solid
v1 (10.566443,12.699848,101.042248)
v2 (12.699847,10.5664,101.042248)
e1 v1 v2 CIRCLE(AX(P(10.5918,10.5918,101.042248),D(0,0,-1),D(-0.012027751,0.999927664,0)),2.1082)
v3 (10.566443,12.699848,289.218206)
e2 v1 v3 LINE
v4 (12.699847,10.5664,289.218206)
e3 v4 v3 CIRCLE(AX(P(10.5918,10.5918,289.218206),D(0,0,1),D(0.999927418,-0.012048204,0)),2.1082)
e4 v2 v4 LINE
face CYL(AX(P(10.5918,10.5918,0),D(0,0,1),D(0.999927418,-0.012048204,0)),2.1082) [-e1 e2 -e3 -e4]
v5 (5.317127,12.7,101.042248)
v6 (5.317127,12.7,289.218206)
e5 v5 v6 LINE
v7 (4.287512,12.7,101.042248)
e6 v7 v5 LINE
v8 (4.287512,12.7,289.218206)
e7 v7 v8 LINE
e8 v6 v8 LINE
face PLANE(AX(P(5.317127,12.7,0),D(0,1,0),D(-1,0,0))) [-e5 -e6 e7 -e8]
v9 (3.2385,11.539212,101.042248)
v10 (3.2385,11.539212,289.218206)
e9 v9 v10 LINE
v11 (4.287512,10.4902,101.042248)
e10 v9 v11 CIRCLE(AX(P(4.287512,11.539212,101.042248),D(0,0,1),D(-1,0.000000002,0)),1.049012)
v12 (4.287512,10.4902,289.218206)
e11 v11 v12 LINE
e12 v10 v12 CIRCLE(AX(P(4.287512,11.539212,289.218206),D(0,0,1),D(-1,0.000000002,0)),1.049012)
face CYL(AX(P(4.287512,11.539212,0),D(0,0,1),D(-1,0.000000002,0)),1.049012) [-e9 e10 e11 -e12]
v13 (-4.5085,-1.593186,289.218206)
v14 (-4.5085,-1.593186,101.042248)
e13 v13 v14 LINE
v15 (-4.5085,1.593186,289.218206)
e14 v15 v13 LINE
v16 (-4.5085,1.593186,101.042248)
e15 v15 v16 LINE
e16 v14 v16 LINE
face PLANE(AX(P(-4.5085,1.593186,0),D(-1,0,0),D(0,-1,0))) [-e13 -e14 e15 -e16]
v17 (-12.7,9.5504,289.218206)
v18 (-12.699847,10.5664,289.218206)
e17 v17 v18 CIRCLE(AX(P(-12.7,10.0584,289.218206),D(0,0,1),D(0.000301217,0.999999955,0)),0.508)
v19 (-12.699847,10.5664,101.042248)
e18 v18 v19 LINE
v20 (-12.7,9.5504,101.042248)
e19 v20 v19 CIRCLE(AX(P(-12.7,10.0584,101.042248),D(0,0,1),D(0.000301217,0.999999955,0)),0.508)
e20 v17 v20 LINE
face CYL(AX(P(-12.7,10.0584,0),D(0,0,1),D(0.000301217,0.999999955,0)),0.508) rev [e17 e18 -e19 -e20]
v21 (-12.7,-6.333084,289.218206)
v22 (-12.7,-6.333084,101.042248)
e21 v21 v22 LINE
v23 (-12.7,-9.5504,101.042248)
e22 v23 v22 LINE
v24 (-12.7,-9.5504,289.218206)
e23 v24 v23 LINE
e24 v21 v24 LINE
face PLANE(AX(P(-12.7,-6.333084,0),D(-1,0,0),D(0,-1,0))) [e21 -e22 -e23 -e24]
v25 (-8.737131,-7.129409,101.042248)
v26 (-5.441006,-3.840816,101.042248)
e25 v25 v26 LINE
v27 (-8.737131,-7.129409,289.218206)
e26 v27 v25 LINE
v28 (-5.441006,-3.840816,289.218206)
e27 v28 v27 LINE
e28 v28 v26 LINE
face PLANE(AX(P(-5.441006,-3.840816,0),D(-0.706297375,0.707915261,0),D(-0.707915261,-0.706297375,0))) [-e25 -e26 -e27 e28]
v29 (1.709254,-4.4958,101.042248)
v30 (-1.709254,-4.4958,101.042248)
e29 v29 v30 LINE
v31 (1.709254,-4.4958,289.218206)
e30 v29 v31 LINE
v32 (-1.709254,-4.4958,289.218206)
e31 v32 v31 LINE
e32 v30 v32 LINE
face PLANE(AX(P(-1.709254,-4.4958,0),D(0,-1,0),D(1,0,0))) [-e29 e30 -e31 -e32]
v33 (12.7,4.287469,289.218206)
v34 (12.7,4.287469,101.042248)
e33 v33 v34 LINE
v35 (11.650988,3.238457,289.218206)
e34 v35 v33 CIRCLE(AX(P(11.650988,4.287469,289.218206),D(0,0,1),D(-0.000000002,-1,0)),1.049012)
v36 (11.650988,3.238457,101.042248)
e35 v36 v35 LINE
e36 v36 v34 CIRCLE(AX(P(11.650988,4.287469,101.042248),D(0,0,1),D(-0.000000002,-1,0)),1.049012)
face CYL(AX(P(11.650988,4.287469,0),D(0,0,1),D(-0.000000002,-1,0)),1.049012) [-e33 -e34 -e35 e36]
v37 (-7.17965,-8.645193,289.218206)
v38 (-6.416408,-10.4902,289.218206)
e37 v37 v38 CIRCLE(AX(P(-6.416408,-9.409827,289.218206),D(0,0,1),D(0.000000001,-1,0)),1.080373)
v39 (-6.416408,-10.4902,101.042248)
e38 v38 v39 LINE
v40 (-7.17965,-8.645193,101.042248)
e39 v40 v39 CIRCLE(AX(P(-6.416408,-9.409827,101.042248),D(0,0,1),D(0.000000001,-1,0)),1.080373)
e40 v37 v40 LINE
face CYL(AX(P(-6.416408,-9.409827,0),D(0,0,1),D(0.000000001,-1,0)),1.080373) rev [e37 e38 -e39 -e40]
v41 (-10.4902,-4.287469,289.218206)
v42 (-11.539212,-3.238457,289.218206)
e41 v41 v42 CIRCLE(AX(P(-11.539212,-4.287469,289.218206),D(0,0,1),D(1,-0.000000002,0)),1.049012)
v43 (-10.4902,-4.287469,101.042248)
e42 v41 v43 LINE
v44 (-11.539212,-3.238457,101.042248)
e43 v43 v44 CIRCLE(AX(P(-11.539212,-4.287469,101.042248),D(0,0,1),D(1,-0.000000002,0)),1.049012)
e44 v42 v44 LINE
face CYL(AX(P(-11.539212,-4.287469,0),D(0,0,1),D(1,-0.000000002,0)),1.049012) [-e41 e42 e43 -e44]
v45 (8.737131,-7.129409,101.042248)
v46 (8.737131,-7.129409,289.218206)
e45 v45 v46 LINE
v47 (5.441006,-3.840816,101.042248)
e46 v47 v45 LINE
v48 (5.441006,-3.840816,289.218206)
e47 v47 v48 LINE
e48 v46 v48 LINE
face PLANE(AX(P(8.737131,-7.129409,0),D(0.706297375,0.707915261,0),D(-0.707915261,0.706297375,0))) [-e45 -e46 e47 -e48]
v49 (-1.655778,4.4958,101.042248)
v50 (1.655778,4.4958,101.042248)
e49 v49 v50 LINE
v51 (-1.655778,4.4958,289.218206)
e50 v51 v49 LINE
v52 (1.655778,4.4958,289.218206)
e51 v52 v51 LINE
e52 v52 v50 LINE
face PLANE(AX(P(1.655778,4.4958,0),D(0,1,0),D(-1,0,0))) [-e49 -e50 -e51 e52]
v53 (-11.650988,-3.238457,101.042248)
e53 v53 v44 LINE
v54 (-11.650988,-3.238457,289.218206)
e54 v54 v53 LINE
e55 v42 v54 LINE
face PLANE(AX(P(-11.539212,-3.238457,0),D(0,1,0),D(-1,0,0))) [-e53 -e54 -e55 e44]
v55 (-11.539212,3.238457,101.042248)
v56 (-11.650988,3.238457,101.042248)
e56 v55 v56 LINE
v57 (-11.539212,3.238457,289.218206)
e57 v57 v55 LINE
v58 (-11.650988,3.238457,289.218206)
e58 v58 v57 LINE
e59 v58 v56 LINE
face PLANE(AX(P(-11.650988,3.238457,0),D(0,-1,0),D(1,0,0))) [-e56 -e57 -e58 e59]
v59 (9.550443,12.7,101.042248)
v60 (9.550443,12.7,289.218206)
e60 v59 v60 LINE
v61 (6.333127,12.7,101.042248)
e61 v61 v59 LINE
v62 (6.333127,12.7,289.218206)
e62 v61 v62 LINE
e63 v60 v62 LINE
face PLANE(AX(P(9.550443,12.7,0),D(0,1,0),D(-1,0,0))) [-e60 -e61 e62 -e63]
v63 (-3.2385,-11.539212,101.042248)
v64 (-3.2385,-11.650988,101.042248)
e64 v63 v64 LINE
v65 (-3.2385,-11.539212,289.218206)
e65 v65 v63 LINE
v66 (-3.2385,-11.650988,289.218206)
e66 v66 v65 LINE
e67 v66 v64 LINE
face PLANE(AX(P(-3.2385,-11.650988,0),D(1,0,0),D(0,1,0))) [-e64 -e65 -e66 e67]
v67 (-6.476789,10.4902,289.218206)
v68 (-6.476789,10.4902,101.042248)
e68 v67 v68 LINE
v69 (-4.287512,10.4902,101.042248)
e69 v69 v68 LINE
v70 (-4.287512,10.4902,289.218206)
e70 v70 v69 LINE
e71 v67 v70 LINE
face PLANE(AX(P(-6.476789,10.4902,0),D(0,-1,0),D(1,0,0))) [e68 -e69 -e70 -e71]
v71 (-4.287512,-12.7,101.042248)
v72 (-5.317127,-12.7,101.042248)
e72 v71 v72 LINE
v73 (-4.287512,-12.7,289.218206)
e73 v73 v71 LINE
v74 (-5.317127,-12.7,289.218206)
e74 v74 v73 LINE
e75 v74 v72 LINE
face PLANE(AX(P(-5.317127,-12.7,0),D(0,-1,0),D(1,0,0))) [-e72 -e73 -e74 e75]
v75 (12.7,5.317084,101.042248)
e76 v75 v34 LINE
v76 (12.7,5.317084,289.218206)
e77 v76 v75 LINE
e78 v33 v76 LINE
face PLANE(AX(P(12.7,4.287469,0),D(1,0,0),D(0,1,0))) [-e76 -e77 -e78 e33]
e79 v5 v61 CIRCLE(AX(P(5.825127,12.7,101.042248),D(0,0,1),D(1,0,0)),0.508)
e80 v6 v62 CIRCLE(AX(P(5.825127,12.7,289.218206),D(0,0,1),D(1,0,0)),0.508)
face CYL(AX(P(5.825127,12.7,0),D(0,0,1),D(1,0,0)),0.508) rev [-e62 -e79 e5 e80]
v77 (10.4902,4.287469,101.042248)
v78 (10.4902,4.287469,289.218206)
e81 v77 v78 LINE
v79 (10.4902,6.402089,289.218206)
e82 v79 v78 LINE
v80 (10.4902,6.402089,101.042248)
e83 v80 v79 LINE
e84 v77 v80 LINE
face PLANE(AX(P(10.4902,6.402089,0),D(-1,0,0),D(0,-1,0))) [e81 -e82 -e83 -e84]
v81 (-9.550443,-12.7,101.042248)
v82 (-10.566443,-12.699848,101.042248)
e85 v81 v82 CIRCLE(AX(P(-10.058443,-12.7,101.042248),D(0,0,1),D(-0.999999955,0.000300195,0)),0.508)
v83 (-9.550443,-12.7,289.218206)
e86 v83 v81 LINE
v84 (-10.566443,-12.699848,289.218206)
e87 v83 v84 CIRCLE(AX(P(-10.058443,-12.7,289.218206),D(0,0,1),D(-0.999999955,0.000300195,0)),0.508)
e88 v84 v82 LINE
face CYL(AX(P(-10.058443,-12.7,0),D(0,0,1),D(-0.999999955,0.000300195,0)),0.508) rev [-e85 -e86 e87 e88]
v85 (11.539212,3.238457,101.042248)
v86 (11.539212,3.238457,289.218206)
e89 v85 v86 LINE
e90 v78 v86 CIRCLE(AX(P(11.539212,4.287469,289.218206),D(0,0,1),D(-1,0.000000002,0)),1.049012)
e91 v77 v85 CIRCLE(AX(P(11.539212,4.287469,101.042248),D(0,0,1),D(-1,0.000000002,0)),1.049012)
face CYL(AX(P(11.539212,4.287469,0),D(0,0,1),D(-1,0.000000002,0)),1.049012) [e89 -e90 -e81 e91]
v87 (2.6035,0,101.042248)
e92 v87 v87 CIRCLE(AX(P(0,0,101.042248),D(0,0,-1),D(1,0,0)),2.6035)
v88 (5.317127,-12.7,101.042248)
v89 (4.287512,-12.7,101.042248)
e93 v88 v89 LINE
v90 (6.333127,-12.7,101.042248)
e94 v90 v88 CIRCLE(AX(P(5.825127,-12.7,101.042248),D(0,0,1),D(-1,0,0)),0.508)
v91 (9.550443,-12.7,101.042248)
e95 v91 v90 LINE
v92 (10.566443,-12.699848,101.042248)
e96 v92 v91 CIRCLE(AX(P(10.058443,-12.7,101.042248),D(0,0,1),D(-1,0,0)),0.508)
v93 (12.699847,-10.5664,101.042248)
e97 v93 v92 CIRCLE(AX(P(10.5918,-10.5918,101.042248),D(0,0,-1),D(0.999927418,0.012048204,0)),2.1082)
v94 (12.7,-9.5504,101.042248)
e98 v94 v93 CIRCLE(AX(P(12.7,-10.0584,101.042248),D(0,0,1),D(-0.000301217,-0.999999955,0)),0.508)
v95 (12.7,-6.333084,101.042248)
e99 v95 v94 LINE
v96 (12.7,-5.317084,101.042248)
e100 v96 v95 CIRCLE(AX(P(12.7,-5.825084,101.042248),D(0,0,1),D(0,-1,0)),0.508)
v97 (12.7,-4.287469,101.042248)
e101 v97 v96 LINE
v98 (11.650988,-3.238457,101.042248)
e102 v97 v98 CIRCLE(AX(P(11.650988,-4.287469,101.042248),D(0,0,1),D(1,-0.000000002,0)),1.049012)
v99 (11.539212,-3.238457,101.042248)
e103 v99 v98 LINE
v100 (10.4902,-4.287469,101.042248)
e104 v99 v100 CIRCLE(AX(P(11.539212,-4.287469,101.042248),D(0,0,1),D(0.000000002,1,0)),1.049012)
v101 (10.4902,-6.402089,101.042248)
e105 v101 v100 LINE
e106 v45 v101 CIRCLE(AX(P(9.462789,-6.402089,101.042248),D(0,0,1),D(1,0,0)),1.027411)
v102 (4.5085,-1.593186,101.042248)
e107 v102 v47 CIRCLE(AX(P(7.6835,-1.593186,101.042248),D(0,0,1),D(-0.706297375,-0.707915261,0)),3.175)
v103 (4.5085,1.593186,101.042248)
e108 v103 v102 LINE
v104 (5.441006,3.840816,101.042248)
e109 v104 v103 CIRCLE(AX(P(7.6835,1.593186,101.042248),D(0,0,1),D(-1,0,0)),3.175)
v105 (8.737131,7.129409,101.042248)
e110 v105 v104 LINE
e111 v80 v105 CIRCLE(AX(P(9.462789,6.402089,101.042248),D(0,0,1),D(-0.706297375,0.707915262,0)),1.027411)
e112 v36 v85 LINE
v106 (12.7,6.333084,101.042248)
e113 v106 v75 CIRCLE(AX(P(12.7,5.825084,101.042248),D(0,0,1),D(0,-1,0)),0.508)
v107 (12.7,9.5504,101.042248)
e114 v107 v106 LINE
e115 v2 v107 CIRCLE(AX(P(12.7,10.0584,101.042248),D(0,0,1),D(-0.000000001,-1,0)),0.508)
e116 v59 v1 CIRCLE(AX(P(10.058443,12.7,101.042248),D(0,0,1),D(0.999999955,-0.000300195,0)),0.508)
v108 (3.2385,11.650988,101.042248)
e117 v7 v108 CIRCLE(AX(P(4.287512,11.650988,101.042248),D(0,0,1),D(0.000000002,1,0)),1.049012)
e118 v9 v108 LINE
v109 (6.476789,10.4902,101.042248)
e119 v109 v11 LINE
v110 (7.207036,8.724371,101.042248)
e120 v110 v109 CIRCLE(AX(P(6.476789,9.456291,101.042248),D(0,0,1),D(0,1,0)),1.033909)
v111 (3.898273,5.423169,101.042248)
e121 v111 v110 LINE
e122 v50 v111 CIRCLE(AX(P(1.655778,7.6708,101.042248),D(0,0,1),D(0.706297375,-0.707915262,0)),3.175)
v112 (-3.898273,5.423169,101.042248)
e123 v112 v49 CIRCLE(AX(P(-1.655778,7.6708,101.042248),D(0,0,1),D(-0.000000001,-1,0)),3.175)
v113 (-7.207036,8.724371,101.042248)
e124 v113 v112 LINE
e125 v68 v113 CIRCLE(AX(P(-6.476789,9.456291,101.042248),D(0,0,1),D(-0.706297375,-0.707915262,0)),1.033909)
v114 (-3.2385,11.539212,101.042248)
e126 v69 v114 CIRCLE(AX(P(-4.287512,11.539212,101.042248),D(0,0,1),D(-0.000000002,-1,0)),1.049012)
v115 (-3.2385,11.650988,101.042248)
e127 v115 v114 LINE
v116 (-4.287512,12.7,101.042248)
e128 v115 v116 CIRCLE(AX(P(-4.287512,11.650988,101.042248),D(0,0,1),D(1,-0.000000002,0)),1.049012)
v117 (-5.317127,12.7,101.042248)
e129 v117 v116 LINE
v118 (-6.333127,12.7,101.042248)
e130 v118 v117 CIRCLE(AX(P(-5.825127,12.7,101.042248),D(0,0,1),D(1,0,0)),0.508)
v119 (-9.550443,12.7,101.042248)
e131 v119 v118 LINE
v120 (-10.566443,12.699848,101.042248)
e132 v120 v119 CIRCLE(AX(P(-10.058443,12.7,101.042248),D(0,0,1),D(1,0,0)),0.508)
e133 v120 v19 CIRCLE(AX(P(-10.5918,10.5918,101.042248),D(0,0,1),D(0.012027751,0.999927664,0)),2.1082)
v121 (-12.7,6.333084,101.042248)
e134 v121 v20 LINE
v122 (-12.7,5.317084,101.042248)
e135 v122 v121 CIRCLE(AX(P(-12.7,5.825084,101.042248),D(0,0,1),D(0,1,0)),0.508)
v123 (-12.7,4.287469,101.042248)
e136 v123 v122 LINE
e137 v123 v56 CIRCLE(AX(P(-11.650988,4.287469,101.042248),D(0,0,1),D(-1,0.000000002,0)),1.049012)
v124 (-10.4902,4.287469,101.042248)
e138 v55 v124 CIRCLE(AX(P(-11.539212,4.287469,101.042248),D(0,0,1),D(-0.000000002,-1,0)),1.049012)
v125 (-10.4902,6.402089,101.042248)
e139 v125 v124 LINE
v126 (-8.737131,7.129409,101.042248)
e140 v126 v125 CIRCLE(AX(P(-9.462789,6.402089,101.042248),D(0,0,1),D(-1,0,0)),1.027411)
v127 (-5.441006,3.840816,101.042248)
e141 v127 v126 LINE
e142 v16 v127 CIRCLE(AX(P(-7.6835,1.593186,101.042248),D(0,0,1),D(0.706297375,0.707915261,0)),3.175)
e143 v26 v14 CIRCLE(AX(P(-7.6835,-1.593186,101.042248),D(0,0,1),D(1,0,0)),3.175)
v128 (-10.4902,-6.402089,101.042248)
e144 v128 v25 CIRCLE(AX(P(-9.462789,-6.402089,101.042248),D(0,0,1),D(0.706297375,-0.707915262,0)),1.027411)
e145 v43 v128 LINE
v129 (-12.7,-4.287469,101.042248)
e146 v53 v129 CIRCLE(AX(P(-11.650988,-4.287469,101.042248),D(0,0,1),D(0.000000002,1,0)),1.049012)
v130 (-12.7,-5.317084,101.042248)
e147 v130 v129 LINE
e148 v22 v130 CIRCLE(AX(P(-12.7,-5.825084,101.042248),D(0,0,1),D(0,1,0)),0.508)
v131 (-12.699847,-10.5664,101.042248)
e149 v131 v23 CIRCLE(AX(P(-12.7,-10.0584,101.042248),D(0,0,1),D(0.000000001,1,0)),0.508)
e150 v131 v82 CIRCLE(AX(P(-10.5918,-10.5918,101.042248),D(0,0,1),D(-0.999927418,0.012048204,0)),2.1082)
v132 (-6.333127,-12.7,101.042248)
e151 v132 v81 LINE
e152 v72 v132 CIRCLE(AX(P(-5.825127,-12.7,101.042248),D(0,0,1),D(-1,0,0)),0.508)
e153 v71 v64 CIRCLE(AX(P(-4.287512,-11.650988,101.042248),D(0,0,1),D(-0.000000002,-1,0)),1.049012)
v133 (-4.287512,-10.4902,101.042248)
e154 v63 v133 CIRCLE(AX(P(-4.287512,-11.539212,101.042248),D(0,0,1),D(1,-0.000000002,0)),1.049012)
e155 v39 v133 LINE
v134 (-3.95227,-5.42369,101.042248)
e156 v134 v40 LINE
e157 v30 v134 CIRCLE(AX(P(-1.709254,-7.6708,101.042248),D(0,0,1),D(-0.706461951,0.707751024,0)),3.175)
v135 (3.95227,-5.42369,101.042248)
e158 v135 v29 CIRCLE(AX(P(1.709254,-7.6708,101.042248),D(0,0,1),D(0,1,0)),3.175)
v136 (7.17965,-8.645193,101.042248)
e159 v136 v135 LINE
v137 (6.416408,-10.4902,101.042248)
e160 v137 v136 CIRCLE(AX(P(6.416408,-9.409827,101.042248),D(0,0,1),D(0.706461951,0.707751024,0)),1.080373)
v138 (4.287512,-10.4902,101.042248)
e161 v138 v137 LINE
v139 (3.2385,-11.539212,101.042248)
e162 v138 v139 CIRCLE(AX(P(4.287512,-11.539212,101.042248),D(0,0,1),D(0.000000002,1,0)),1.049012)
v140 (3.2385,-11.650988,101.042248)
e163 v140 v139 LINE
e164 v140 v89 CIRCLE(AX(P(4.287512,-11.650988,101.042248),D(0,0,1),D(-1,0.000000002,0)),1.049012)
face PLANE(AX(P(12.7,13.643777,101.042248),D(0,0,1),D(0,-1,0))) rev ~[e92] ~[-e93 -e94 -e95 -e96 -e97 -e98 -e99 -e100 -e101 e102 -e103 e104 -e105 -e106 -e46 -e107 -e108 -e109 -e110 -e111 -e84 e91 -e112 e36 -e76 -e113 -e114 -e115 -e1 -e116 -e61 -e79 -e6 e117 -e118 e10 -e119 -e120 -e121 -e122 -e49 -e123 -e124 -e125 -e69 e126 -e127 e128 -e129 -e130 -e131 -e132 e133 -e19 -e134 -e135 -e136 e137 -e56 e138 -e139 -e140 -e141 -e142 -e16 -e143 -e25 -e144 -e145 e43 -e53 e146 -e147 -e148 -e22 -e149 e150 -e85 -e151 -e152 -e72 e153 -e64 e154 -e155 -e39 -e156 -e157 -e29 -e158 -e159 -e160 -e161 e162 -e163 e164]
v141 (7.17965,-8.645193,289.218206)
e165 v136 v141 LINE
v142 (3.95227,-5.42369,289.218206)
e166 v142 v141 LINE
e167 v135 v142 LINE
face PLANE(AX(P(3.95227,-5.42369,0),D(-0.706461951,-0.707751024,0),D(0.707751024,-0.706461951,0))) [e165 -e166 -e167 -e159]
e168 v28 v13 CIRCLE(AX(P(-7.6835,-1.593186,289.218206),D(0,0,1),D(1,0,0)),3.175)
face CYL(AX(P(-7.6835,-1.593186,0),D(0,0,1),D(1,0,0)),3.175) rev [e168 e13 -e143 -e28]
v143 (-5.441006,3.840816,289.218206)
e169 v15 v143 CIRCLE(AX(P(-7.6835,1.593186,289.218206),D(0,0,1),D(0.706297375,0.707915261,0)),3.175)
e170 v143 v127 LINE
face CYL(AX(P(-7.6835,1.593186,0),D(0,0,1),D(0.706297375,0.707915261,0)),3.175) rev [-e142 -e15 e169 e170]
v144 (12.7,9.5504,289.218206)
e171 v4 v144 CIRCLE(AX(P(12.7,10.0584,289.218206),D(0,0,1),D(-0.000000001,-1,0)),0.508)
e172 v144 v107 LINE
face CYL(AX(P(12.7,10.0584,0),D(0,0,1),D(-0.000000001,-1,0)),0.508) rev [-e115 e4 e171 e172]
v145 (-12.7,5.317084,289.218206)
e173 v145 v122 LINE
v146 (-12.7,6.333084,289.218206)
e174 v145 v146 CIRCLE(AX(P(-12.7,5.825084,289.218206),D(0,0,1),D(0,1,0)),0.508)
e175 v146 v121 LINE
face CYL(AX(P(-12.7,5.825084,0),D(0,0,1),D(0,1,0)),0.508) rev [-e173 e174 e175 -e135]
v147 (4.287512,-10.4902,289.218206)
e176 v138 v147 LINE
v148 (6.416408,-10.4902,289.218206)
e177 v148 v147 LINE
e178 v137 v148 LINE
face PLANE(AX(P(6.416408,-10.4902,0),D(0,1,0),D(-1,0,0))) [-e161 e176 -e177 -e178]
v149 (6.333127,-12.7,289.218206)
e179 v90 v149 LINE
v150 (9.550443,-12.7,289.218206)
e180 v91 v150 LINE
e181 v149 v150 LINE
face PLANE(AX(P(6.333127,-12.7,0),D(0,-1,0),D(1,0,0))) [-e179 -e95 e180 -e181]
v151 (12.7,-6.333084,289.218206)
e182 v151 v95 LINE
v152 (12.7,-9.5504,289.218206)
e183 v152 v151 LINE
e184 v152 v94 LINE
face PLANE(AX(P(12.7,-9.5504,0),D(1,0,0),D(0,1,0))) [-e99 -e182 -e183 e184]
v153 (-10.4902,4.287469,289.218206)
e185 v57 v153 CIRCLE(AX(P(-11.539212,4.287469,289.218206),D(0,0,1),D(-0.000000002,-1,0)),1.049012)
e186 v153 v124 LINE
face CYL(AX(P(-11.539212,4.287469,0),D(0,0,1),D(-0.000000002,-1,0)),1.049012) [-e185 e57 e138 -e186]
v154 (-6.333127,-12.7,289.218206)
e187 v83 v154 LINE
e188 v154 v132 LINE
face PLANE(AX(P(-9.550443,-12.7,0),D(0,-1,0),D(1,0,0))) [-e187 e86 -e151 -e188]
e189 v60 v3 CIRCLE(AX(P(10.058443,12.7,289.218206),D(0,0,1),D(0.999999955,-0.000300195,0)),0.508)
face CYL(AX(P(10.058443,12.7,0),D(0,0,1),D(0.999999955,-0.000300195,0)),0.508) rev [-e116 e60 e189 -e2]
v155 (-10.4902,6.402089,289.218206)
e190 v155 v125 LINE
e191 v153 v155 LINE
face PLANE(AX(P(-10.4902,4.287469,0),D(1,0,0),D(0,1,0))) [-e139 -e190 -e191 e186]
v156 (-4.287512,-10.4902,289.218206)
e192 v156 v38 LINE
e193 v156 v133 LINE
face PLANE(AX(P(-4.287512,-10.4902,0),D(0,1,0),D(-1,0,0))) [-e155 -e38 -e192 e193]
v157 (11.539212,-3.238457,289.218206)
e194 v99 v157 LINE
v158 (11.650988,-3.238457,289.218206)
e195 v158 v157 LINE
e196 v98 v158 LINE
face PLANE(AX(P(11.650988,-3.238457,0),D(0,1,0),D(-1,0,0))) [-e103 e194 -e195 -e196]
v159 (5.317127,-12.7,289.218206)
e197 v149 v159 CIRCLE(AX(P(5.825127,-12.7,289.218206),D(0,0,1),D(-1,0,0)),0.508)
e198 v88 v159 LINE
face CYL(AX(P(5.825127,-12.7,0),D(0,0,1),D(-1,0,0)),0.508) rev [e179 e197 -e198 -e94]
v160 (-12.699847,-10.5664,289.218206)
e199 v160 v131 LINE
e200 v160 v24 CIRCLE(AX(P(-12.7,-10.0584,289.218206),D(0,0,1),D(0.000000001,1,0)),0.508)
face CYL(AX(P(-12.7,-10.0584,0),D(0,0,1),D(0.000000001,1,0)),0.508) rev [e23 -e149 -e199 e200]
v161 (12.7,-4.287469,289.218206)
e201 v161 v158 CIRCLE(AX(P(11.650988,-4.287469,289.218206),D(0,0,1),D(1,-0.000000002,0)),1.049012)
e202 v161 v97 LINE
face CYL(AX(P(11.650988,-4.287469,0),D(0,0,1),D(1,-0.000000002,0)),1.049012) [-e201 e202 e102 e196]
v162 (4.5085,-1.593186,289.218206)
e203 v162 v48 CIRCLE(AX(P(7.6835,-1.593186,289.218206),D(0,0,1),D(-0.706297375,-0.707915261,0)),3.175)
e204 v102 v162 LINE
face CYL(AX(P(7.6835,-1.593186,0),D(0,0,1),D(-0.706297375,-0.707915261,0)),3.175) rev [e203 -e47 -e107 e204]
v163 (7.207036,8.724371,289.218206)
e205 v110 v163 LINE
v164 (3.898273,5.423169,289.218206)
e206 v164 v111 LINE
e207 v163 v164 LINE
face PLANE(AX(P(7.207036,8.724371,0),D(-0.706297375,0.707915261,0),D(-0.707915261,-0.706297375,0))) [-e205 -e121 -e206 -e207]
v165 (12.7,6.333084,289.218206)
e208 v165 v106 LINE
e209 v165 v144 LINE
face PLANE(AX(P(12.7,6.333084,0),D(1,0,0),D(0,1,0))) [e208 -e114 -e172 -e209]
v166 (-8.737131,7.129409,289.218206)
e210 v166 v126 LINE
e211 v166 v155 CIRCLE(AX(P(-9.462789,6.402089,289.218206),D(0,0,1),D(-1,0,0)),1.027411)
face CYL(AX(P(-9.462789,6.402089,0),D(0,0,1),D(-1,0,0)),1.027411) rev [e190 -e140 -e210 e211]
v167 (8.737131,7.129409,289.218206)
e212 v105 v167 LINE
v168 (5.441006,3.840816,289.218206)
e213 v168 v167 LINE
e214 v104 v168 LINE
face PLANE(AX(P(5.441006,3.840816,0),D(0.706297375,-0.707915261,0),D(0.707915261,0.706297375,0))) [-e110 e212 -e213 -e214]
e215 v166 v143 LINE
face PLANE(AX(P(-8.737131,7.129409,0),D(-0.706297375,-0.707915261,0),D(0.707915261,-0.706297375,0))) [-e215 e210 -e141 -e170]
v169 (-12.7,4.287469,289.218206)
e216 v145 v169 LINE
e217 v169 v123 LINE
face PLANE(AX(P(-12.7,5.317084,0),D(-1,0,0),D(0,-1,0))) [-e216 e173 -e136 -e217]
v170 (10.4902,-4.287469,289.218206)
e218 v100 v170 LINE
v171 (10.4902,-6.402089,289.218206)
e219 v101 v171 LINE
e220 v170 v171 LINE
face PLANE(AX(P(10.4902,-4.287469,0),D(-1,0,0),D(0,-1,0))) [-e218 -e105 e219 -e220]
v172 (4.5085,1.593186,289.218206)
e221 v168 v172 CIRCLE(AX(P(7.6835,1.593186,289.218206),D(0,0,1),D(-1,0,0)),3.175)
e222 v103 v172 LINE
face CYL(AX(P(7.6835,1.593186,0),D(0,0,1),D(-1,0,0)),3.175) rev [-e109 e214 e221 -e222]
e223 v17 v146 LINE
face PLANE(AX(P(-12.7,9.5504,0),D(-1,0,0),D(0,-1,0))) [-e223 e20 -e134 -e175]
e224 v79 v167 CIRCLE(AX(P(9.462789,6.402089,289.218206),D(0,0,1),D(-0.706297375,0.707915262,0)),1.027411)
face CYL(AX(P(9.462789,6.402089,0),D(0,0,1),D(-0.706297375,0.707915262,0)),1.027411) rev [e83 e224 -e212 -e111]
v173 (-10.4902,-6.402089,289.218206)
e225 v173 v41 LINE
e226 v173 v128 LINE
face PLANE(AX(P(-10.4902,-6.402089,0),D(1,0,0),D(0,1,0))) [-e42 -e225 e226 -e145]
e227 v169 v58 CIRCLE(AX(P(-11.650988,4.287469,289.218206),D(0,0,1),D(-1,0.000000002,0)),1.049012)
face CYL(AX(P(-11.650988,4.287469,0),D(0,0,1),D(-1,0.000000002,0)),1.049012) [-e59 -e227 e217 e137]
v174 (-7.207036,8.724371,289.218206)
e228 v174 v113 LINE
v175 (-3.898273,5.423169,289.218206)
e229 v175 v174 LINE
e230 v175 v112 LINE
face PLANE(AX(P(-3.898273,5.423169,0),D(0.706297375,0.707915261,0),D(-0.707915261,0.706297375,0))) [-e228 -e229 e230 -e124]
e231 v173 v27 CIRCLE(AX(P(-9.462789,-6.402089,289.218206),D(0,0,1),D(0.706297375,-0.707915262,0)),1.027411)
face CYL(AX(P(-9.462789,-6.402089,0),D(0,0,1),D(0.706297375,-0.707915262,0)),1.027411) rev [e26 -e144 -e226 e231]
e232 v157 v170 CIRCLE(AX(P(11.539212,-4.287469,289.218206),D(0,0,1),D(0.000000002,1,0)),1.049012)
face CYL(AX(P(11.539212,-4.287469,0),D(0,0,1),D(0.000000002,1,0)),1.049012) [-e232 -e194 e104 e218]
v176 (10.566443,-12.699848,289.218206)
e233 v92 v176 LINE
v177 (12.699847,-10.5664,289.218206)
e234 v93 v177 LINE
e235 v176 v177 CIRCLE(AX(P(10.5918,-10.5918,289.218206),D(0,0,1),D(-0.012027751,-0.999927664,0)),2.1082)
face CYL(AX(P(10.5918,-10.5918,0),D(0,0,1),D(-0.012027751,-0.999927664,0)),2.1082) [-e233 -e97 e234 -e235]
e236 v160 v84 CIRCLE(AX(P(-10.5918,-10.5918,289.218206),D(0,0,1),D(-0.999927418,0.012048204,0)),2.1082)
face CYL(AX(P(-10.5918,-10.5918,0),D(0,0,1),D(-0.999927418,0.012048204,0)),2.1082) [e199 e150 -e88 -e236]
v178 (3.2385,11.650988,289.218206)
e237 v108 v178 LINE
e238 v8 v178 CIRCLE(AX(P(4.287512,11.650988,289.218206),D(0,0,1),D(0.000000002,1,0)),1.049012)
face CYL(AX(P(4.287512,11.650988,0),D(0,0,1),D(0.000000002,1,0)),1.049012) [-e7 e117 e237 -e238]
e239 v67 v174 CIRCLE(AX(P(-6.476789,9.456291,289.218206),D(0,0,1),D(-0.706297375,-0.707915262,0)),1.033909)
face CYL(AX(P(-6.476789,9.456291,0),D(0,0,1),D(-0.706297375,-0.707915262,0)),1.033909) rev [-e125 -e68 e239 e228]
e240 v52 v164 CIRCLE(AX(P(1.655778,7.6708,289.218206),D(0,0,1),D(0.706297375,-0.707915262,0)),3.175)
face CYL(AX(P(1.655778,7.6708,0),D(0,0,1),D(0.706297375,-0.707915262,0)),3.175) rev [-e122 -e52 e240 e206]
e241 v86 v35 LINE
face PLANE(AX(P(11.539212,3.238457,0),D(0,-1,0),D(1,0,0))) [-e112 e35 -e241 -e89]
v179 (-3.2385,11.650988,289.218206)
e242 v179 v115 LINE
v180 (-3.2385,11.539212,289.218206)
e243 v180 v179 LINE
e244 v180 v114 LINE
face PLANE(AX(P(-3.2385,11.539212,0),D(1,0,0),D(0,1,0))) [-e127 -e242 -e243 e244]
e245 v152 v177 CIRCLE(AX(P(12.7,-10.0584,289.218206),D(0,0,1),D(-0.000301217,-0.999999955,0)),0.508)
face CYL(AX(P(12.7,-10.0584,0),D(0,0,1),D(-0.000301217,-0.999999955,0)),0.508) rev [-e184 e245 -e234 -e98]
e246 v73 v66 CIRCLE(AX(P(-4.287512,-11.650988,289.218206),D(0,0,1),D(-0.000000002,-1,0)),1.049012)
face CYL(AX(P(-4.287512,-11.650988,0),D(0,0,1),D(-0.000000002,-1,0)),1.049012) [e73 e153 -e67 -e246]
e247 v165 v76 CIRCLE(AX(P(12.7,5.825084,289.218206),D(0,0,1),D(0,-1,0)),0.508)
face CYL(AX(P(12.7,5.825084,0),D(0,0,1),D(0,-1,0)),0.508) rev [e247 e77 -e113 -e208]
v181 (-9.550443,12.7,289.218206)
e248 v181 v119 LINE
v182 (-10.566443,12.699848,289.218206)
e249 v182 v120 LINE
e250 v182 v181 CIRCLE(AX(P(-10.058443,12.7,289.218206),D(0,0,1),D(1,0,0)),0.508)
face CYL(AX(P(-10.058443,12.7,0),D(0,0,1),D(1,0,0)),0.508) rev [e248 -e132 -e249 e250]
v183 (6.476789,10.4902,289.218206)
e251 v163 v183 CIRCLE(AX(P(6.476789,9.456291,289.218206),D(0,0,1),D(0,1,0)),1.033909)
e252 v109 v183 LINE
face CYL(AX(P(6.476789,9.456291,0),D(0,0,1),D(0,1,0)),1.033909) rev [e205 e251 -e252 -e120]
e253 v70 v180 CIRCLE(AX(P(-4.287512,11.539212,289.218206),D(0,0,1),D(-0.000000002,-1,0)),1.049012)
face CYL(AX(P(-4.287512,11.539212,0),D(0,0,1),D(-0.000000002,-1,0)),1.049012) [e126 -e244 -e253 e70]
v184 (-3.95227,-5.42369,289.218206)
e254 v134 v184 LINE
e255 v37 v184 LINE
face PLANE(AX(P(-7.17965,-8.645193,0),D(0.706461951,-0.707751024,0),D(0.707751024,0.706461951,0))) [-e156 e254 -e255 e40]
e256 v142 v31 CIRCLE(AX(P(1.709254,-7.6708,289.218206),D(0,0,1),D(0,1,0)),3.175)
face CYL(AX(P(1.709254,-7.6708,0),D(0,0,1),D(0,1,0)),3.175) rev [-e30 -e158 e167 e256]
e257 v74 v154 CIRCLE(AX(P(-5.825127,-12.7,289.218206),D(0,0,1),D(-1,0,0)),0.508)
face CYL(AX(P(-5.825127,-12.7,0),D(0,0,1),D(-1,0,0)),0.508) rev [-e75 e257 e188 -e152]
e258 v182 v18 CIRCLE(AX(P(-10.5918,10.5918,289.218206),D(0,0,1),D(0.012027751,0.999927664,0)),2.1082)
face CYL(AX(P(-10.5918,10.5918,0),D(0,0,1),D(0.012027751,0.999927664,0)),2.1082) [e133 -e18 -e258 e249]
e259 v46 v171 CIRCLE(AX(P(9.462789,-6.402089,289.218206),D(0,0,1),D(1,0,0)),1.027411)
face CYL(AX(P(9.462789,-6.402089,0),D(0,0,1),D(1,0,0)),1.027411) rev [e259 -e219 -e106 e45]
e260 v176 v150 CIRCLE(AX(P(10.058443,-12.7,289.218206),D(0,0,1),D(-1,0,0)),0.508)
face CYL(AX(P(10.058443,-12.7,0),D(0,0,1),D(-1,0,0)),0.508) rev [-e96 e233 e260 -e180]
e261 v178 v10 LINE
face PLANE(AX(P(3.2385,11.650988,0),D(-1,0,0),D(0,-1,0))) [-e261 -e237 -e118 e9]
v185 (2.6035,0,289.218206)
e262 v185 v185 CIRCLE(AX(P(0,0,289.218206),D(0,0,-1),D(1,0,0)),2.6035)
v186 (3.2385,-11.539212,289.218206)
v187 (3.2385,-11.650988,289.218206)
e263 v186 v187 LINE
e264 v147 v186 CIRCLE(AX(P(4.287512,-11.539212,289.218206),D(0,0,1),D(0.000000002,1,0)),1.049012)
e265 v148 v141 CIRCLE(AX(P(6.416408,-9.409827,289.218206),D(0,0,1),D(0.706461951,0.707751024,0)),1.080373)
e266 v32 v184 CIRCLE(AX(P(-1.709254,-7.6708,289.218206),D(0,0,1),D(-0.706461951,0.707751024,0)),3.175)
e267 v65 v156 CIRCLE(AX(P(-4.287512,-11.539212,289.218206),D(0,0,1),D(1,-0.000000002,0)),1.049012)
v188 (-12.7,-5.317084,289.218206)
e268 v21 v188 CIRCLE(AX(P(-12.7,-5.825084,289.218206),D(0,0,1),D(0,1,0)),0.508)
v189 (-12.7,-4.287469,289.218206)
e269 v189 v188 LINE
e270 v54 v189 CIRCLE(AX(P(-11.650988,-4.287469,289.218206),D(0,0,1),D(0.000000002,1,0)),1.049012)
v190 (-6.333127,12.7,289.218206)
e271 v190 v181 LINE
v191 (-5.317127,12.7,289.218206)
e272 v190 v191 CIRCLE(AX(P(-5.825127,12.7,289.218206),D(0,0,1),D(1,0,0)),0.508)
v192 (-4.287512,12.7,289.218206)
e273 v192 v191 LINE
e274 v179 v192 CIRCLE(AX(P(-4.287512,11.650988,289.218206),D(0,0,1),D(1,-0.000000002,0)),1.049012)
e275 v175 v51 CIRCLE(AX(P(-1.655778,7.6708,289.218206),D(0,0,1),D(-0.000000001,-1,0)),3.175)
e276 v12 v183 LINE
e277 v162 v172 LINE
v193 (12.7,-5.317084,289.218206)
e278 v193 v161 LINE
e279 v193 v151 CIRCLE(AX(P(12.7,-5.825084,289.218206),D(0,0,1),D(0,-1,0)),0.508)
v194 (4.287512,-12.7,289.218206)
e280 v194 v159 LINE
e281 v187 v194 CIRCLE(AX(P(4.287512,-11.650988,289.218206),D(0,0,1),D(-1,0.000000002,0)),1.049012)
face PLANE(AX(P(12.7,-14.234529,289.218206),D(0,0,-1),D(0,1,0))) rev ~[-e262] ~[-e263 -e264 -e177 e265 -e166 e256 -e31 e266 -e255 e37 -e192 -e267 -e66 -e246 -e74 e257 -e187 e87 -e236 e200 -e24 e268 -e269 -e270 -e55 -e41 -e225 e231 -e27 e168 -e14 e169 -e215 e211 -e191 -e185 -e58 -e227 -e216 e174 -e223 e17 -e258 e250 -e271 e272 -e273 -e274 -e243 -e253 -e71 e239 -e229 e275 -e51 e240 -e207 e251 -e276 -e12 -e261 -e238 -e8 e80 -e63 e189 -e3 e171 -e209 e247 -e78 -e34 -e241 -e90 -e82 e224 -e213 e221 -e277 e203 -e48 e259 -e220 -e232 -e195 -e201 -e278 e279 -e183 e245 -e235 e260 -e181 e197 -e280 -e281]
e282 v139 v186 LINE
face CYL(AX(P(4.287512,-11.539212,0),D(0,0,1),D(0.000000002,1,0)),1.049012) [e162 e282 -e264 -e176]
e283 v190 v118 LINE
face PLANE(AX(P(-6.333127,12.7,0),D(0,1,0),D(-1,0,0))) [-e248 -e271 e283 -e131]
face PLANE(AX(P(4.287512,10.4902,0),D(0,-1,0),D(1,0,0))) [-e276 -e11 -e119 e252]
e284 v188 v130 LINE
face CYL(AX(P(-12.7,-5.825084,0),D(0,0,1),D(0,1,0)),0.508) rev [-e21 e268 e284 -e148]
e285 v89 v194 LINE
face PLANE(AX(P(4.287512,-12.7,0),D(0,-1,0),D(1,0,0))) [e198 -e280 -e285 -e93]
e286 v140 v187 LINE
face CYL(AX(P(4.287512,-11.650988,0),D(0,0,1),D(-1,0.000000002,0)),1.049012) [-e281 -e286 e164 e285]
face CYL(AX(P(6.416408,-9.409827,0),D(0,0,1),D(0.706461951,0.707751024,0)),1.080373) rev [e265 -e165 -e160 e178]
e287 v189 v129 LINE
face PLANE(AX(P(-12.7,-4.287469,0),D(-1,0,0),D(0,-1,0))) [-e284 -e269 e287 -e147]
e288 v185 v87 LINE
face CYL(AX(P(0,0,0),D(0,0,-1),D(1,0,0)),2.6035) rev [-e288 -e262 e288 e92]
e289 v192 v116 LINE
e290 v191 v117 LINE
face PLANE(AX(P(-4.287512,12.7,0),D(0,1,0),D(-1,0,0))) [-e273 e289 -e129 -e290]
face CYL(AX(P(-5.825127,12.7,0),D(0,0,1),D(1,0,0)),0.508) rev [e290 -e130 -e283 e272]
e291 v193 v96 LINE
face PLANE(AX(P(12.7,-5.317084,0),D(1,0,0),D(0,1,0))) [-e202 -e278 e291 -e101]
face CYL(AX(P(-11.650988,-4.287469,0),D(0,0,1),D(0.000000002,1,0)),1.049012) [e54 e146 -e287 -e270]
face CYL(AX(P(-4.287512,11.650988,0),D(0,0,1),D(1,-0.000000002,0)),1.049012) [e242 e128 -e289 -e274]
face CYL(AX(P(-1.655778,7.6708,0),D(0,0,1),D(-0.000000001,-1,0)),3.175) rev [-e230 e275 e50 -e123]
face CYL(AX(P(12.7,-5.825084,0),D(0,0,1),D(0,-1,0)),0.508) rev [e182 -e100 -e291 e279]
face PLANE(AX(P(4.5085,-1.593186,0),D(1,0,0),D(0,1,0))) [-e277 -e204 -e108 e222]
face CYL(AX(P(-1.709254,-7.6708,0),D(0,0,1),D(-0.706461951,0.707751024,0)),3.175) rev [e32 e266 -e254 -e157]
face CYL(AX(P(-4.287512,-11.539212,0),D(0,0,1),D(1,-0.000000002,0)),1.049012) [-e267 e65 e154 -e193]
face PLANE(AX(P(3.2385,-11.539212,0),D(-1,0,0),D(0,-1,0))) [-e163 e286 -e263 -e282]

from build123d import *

# Parameters (mm, degrees)
SKETCH1_R               = 2.6035
BOSS_EXTRUDE1_DEPTH     = 304.8
SKETCH2_W               = 16.257599062
SKETCH2_H               = 27.586789262
CUT_EXTRUDE1_DEPTH      = 1.778
CUT_EXTRUDE1_DEPTH_BACK = 26.162


with BuildPart() as part:
    # Sketch1 → Boss-Extrude1 (new body, symmetric)
    with BuildSketch(Plane.XY):
        with BuildLine():
            Line((-7.179650497, -8.645192506), (-3.952270251, -5.423690499))
            ThreePointArc((-3.952270251, -5.423690499), (-2.922936451, -4.736929036), (-1.709253557, -4.4958))
            Line((-1.709253557, -4.4958), (1.709253557, -4.4958))
            ThreePointArc((1.709253557, -4.4958), (2.922936451, -4.736929036), (3.952270251, -5.423690499))
            Line((3.952270251, -5.423690499), (7.179650497, -8.645192506))
            ThreePointArc((7.179650497, -8.645192506), (7.41473083, -9.822813117), (6.416408329, -10.4902))
            Line((6.416408329, -10.4902), (4.287512407, -10.4902))
            ThreePointArc((4.287512407, -10.4902), (3.54574862, -10.79744862), (3.2385, -11.539212407))
            Line((3.2385, -11.539212407), (3.2385, -11.650987593))
            ThreePointArc((3.2385, -11.650987593), (3.54574862, -12.39275138), (4.287512407, -12.7))
            Line((4.287512407, -12.7), (5.317126718, -12.7))
            ThreePointArc((5.317126718, -12.7), (5.825126718, -12.192), (6.333126718, -12.7))
            Line((6.333126718, -12.7), (9.550443118, -12.7))
            ThreePointArc((9.550443118, -12.7), (10.058366869, -12.192000006), (10.566443095, -12.699847501))
            ThreePointArc((10.566443095, -12.699847501), (12.082537762, -12.08250727), (12.699846982, -10.566399977))
            ThreePointArc((12.699846982, -10.566399977), (12.192000006, -10.058323491), (12.7, -9.5504))
            Line((12.7, -9.5504), (12.7, -6.3330836))
            ThreePointArc((12.7, -6.3330836), (12.192, -5.8250836), (12.7, -5.3170836))
            Line((12.7, -5.3170836), (12.7, -4.287469289))
            ThreePointArc((12.7, -4.287469289), (12.39275138, -3.545705502), (11.650987593, -3.238456882))
            Line((11.650987593, -3.238456882), (11.539212407, -3.238456882))
            ThreePointArc((11.539212407, -3.238456882), (10.79744862, -3.545705502), (10.4902, -4.287469289))
            Line((10.4902, -4.287469289), (10.4902, -6.402089023))
            ThreePointArc((10.4902, -6.402089023), (9.856505071, -7.351067942), (8.737131347, -7.129408934))
            Line((8.737131347, -7.129408934), (5.441005833, -3.840816462))
            ThreePointArc((5.441005833, -3.840816462), (4.750877967, -2.809883091), (4.5085, -1.593185507))
            Line((4.5085, -1.593185507), (4.5085, 1.593185507))
            ThreePointArc((4.5085, 1.593185507), (4.750877967, 2.809883091), (5.441005833, 3.840816462))
            Line((5.441005833, 3.840816462), (8.737131347, 7.129408934))
            ThreePointArc((8.737131347, 7.129408934), (9.856505071, 7.351067942), (10.4902, 6.402089023))
            Line((10.4902, 6.402089023), (10.4902, 4.287469289))
            ThreePointArc((10.4902, 4.287469289), (10.79744862, 3.545705502), (11.539212407, 3.238456882))
            Line((11.539212407, 3.238456882), (11.650987593, 3.238456882))
            ThreePointArc((11.650987593, 3.238456882), (12.39275138, 3.545705502), (12.7, 4.287469289))
            Line((12.7, 4.287469289), (12.7, 5.3170836))
            ThreePointArc((12.7, 5.3170836), (12.192, 5.8250836), (12.7, 6.3330836))
            Line((12.7, 6.3330836), (12.7, 9.5504))
            ThreePointArc((12.7, 9.5504), (12.192000006, 10.058323491), (12.699846982, 10.566399977))
            ThreePointArc((12.699846982, 10.566399977), (12.082537762, 12.08250727), (10.566443095, 12.699847501))
            ThreePointArc((10.566443095, 12.699847501), (10.058366869, 12.192000006), (9.550443118, 12.7))
            Line((9.550443118, 12.7), (6.333126718, 12.7))
            ThreePointArc((6.333126718, 12.7), (5.825126718, 12.192), (5.317126718, 12.7))
            Line((5.317126718, 12.7), (4.287512407, 12.7))
            ThreePointArc((4.287512407, 12.7), (3.54574862, 12.39275138), (3.2385, 11.650987593))
            Line((3.2385, 11.650987593), (3.2385, 11.539212407))
            ThreePointArc((3.2385, 11.539212407), (3.54574862, 10.79744862), (4.287512407, 10.4902))
            Line((4.287512407, 10.4902), (6.476788598, 10.4902))
            ThreePointArc((6.476788598, 10.4902), (7.432222385, 9.85140422), (7.207036008, 8.724370562))
            Line((7.207036008, 8.724370562), (3.898272566, 5.423169045))
            ThreePointArc((3.898272566, 5.423169045), (2.869120213, 4.736787962), (1.655778399, 4.4958))
            Line((1.655778399, 4.4958), (-1.655778399, 4.4958))
            ThreePointArc((-1.655778399, 4.4958), (-2.869120213, 4.736787962), (-3.898272566, 5.423169045))
            Line((-3.898272566, 5.423169045), (-7.207036008, 8.724370562))
            ThreePointArc((-7.207036008, 8.724370562), (-7.432222385, 9.85140422), (-6.476788598, 10.4902))
            Line((-6.476788598, 10.4902), (-4.287512407, 10.4902))
            ThreePointArc((-4.287512407, 10.4902), (-3.54574862, 10.79744862), (-3.2385, 11.539212407))
            Line((-3.2385, 11.539212407), (-3.2385, 11.650987593))
            ThreePointArc((-3.2385, 11.650987593), (-3.54574862, 12.39275138), (-4.287512407, 12.7))
            Line((-4.287512407, 12.7), (-5.317126718, 12.7))
            ThreePointArc((-5.317126718, 12.7), (-5.825126718, 12.192), (-6.333126718, 12.7))
            Line((-6.333126718, 12.7), (-9.550443118, 12.7))
            ThreePointArc((-9.550443118, 12.7), (-10.058366869, 12.192000006), (-10.566443095, 12.699847501))
            ThreePointArc((-10.566443095, 12.699847501), (-12.082537762, 12.08250727), (-12.699846982, 10.566399977))
            ThreePointArc((-12.699846982, 10.566399977), (-12.192000006, 10.058323491), (-12.7, 9.5504))
            Line((-12.7, 9.5504), (-12.7, 6.3330836))
            ThreePointArc((-12.7, 6.3330836), (-12.192, 5.8250836), (-12.7, 5.3170836))
            Line((-12.7, 5.3170836), (-12.7, 4.287469289))
            ThreePointArc((-12.7, 4.287469289), (-12.39275138, 3.545705502), (-11.650987593, 3.238456882))
            Line((-11.650987593, 3.238456882), (-11.539212407, 3.238456882))
            ThreePointArc((-11.539212407, 3.238456882), (-10.79744862, 3.545705502), (-10.4902, 4.287469289))
            Line((-10.4902, 4.287469289), (-10.4902, 6.402089023))
            ThreePointArc((-10.4902, 6.402089023), (-9.856505071, 7.351067942), (-8.737131347, 7.129408934))
            Line((-8.737131347, 7.129408934), (-5.441005833, 3.840816462))
            ThreePointArc((-5.441005833, 3.840816462), (-4.750877967, 2.809883091), (-4.5085, 1.593185507))
            Line((-4.5085, 1.593185507), (-4.5085, -1.593185507))
            ThreePointArc((-4.5085, -1.593185507), (-4.750877967, -2.809883091), (-5.441005833, -3.840816462))
            Line((-5.441005833, -3.840816462), (-8.737131347, -7.129408934))
            ThreePointArc((-8.737131347, -7.129408934), (-9.856505071, -7.351067942), (-10.4902, -6.402089023))
            Line((-10.4902, -6.402089023), (-10.4902, -4.287469289))
            ThreePointArc((-10.4902, -4.287469289), (-10.79744862, -3.545705502), (-11.539212407, -3.238456882))
            Line((-11.539212407, -3.238456882), (-11.650987593, -3.238456882))
            ThreePointArc((-11.650987593, -3.238456882), (-12.39275138, -3.545705502), (-12.7, -4.287469289))
            Line((-12.7, -4.287469289), (-12.7, -5.3170836))
            ThreePointArc((-12.7, -5.3170836), (-12.192, -5.8250836), (-12.7, -6.3330836))
            Line((-12.7, -6.3330836), (-12.7, -9.5504))
            ThreePointArc((-12.7, -9.5504), (-12.192000006, -10.058323491), (-12.699846982, -10.566399977))
            ThreePointArc((-12.699846982, -10.566399977), (-12.082537762, -12.08250727), (-10.566443095, -12.699847501))
            ThreePointArc((-10.566443095, -12.699847501), (-10.058366869, -12.192000006), (-9.550443118, -12.7))
            Line((-9.550443118, -12.7), (-6.333126718, -12.7))
            ThreePointArc((-6.333126718, -12.7), (-5.825126718, -12.192), (-5.317126718, -12.7))
            Line((-5.317126718, -12.7), (-4.287512407, -12.7))
            ThreePointArc((-4.287512407, -12.7), (-3.54574862, -12.39275138), (-3.2385, -11.650987593))
            Line((-3.2385, -11.650987593), (-3.2385, -11.539212407))
            ThreePointArc((-3.2385, -11.539212407), (-3.54574862, -10.79744862), (-4.287512407, -10.4902))
            Line((-4.287512407, -10.4902), (-6.416408329, -10.4902))
            ThreePointArc((-6.416408329, -10.4902), (-7.41473083, -9.822813117), (-7.179650497, -8.645192506))
        make_face()
        Circle(SKETCH1_R, mode=Mode.SUBTRACT)
    extrude(amount=BOSS_EXTRUDE1_DEPTH, both=True)

    # Sketch2 → Cut-Extrude1 (cut, two sides)
    with BuildSketch(Plane(origin=(12.7, 0, 0), x_dir=(0, 0, -1), z_dir=(1, 0, 0))) as cut_extrude1_sk:
        Polygon((-56.586481007, -14.234528627), (310.743066166, -14.234528627), (310.743066166, 13.643777343), (-56.586481007, 13.643777343), (-101.042247833, 13.643777343), (-101.042247833, -14.234528627), align=None)
        with Locations((-297.347005301, -0.441133996)):
            Rectangle(SKETCH2_W, SKETCH2_H)
    extrude(amount=CUT_EXTRUDE1_DEPTH, mode=Mode.SUBTRACT)
    extrude(cut_extrude1_sk.sketch, amount=-CUT_EXTRUDE1_DEPTH_BACK, mode=Mode.SUBTRACT)


solid = part.part
